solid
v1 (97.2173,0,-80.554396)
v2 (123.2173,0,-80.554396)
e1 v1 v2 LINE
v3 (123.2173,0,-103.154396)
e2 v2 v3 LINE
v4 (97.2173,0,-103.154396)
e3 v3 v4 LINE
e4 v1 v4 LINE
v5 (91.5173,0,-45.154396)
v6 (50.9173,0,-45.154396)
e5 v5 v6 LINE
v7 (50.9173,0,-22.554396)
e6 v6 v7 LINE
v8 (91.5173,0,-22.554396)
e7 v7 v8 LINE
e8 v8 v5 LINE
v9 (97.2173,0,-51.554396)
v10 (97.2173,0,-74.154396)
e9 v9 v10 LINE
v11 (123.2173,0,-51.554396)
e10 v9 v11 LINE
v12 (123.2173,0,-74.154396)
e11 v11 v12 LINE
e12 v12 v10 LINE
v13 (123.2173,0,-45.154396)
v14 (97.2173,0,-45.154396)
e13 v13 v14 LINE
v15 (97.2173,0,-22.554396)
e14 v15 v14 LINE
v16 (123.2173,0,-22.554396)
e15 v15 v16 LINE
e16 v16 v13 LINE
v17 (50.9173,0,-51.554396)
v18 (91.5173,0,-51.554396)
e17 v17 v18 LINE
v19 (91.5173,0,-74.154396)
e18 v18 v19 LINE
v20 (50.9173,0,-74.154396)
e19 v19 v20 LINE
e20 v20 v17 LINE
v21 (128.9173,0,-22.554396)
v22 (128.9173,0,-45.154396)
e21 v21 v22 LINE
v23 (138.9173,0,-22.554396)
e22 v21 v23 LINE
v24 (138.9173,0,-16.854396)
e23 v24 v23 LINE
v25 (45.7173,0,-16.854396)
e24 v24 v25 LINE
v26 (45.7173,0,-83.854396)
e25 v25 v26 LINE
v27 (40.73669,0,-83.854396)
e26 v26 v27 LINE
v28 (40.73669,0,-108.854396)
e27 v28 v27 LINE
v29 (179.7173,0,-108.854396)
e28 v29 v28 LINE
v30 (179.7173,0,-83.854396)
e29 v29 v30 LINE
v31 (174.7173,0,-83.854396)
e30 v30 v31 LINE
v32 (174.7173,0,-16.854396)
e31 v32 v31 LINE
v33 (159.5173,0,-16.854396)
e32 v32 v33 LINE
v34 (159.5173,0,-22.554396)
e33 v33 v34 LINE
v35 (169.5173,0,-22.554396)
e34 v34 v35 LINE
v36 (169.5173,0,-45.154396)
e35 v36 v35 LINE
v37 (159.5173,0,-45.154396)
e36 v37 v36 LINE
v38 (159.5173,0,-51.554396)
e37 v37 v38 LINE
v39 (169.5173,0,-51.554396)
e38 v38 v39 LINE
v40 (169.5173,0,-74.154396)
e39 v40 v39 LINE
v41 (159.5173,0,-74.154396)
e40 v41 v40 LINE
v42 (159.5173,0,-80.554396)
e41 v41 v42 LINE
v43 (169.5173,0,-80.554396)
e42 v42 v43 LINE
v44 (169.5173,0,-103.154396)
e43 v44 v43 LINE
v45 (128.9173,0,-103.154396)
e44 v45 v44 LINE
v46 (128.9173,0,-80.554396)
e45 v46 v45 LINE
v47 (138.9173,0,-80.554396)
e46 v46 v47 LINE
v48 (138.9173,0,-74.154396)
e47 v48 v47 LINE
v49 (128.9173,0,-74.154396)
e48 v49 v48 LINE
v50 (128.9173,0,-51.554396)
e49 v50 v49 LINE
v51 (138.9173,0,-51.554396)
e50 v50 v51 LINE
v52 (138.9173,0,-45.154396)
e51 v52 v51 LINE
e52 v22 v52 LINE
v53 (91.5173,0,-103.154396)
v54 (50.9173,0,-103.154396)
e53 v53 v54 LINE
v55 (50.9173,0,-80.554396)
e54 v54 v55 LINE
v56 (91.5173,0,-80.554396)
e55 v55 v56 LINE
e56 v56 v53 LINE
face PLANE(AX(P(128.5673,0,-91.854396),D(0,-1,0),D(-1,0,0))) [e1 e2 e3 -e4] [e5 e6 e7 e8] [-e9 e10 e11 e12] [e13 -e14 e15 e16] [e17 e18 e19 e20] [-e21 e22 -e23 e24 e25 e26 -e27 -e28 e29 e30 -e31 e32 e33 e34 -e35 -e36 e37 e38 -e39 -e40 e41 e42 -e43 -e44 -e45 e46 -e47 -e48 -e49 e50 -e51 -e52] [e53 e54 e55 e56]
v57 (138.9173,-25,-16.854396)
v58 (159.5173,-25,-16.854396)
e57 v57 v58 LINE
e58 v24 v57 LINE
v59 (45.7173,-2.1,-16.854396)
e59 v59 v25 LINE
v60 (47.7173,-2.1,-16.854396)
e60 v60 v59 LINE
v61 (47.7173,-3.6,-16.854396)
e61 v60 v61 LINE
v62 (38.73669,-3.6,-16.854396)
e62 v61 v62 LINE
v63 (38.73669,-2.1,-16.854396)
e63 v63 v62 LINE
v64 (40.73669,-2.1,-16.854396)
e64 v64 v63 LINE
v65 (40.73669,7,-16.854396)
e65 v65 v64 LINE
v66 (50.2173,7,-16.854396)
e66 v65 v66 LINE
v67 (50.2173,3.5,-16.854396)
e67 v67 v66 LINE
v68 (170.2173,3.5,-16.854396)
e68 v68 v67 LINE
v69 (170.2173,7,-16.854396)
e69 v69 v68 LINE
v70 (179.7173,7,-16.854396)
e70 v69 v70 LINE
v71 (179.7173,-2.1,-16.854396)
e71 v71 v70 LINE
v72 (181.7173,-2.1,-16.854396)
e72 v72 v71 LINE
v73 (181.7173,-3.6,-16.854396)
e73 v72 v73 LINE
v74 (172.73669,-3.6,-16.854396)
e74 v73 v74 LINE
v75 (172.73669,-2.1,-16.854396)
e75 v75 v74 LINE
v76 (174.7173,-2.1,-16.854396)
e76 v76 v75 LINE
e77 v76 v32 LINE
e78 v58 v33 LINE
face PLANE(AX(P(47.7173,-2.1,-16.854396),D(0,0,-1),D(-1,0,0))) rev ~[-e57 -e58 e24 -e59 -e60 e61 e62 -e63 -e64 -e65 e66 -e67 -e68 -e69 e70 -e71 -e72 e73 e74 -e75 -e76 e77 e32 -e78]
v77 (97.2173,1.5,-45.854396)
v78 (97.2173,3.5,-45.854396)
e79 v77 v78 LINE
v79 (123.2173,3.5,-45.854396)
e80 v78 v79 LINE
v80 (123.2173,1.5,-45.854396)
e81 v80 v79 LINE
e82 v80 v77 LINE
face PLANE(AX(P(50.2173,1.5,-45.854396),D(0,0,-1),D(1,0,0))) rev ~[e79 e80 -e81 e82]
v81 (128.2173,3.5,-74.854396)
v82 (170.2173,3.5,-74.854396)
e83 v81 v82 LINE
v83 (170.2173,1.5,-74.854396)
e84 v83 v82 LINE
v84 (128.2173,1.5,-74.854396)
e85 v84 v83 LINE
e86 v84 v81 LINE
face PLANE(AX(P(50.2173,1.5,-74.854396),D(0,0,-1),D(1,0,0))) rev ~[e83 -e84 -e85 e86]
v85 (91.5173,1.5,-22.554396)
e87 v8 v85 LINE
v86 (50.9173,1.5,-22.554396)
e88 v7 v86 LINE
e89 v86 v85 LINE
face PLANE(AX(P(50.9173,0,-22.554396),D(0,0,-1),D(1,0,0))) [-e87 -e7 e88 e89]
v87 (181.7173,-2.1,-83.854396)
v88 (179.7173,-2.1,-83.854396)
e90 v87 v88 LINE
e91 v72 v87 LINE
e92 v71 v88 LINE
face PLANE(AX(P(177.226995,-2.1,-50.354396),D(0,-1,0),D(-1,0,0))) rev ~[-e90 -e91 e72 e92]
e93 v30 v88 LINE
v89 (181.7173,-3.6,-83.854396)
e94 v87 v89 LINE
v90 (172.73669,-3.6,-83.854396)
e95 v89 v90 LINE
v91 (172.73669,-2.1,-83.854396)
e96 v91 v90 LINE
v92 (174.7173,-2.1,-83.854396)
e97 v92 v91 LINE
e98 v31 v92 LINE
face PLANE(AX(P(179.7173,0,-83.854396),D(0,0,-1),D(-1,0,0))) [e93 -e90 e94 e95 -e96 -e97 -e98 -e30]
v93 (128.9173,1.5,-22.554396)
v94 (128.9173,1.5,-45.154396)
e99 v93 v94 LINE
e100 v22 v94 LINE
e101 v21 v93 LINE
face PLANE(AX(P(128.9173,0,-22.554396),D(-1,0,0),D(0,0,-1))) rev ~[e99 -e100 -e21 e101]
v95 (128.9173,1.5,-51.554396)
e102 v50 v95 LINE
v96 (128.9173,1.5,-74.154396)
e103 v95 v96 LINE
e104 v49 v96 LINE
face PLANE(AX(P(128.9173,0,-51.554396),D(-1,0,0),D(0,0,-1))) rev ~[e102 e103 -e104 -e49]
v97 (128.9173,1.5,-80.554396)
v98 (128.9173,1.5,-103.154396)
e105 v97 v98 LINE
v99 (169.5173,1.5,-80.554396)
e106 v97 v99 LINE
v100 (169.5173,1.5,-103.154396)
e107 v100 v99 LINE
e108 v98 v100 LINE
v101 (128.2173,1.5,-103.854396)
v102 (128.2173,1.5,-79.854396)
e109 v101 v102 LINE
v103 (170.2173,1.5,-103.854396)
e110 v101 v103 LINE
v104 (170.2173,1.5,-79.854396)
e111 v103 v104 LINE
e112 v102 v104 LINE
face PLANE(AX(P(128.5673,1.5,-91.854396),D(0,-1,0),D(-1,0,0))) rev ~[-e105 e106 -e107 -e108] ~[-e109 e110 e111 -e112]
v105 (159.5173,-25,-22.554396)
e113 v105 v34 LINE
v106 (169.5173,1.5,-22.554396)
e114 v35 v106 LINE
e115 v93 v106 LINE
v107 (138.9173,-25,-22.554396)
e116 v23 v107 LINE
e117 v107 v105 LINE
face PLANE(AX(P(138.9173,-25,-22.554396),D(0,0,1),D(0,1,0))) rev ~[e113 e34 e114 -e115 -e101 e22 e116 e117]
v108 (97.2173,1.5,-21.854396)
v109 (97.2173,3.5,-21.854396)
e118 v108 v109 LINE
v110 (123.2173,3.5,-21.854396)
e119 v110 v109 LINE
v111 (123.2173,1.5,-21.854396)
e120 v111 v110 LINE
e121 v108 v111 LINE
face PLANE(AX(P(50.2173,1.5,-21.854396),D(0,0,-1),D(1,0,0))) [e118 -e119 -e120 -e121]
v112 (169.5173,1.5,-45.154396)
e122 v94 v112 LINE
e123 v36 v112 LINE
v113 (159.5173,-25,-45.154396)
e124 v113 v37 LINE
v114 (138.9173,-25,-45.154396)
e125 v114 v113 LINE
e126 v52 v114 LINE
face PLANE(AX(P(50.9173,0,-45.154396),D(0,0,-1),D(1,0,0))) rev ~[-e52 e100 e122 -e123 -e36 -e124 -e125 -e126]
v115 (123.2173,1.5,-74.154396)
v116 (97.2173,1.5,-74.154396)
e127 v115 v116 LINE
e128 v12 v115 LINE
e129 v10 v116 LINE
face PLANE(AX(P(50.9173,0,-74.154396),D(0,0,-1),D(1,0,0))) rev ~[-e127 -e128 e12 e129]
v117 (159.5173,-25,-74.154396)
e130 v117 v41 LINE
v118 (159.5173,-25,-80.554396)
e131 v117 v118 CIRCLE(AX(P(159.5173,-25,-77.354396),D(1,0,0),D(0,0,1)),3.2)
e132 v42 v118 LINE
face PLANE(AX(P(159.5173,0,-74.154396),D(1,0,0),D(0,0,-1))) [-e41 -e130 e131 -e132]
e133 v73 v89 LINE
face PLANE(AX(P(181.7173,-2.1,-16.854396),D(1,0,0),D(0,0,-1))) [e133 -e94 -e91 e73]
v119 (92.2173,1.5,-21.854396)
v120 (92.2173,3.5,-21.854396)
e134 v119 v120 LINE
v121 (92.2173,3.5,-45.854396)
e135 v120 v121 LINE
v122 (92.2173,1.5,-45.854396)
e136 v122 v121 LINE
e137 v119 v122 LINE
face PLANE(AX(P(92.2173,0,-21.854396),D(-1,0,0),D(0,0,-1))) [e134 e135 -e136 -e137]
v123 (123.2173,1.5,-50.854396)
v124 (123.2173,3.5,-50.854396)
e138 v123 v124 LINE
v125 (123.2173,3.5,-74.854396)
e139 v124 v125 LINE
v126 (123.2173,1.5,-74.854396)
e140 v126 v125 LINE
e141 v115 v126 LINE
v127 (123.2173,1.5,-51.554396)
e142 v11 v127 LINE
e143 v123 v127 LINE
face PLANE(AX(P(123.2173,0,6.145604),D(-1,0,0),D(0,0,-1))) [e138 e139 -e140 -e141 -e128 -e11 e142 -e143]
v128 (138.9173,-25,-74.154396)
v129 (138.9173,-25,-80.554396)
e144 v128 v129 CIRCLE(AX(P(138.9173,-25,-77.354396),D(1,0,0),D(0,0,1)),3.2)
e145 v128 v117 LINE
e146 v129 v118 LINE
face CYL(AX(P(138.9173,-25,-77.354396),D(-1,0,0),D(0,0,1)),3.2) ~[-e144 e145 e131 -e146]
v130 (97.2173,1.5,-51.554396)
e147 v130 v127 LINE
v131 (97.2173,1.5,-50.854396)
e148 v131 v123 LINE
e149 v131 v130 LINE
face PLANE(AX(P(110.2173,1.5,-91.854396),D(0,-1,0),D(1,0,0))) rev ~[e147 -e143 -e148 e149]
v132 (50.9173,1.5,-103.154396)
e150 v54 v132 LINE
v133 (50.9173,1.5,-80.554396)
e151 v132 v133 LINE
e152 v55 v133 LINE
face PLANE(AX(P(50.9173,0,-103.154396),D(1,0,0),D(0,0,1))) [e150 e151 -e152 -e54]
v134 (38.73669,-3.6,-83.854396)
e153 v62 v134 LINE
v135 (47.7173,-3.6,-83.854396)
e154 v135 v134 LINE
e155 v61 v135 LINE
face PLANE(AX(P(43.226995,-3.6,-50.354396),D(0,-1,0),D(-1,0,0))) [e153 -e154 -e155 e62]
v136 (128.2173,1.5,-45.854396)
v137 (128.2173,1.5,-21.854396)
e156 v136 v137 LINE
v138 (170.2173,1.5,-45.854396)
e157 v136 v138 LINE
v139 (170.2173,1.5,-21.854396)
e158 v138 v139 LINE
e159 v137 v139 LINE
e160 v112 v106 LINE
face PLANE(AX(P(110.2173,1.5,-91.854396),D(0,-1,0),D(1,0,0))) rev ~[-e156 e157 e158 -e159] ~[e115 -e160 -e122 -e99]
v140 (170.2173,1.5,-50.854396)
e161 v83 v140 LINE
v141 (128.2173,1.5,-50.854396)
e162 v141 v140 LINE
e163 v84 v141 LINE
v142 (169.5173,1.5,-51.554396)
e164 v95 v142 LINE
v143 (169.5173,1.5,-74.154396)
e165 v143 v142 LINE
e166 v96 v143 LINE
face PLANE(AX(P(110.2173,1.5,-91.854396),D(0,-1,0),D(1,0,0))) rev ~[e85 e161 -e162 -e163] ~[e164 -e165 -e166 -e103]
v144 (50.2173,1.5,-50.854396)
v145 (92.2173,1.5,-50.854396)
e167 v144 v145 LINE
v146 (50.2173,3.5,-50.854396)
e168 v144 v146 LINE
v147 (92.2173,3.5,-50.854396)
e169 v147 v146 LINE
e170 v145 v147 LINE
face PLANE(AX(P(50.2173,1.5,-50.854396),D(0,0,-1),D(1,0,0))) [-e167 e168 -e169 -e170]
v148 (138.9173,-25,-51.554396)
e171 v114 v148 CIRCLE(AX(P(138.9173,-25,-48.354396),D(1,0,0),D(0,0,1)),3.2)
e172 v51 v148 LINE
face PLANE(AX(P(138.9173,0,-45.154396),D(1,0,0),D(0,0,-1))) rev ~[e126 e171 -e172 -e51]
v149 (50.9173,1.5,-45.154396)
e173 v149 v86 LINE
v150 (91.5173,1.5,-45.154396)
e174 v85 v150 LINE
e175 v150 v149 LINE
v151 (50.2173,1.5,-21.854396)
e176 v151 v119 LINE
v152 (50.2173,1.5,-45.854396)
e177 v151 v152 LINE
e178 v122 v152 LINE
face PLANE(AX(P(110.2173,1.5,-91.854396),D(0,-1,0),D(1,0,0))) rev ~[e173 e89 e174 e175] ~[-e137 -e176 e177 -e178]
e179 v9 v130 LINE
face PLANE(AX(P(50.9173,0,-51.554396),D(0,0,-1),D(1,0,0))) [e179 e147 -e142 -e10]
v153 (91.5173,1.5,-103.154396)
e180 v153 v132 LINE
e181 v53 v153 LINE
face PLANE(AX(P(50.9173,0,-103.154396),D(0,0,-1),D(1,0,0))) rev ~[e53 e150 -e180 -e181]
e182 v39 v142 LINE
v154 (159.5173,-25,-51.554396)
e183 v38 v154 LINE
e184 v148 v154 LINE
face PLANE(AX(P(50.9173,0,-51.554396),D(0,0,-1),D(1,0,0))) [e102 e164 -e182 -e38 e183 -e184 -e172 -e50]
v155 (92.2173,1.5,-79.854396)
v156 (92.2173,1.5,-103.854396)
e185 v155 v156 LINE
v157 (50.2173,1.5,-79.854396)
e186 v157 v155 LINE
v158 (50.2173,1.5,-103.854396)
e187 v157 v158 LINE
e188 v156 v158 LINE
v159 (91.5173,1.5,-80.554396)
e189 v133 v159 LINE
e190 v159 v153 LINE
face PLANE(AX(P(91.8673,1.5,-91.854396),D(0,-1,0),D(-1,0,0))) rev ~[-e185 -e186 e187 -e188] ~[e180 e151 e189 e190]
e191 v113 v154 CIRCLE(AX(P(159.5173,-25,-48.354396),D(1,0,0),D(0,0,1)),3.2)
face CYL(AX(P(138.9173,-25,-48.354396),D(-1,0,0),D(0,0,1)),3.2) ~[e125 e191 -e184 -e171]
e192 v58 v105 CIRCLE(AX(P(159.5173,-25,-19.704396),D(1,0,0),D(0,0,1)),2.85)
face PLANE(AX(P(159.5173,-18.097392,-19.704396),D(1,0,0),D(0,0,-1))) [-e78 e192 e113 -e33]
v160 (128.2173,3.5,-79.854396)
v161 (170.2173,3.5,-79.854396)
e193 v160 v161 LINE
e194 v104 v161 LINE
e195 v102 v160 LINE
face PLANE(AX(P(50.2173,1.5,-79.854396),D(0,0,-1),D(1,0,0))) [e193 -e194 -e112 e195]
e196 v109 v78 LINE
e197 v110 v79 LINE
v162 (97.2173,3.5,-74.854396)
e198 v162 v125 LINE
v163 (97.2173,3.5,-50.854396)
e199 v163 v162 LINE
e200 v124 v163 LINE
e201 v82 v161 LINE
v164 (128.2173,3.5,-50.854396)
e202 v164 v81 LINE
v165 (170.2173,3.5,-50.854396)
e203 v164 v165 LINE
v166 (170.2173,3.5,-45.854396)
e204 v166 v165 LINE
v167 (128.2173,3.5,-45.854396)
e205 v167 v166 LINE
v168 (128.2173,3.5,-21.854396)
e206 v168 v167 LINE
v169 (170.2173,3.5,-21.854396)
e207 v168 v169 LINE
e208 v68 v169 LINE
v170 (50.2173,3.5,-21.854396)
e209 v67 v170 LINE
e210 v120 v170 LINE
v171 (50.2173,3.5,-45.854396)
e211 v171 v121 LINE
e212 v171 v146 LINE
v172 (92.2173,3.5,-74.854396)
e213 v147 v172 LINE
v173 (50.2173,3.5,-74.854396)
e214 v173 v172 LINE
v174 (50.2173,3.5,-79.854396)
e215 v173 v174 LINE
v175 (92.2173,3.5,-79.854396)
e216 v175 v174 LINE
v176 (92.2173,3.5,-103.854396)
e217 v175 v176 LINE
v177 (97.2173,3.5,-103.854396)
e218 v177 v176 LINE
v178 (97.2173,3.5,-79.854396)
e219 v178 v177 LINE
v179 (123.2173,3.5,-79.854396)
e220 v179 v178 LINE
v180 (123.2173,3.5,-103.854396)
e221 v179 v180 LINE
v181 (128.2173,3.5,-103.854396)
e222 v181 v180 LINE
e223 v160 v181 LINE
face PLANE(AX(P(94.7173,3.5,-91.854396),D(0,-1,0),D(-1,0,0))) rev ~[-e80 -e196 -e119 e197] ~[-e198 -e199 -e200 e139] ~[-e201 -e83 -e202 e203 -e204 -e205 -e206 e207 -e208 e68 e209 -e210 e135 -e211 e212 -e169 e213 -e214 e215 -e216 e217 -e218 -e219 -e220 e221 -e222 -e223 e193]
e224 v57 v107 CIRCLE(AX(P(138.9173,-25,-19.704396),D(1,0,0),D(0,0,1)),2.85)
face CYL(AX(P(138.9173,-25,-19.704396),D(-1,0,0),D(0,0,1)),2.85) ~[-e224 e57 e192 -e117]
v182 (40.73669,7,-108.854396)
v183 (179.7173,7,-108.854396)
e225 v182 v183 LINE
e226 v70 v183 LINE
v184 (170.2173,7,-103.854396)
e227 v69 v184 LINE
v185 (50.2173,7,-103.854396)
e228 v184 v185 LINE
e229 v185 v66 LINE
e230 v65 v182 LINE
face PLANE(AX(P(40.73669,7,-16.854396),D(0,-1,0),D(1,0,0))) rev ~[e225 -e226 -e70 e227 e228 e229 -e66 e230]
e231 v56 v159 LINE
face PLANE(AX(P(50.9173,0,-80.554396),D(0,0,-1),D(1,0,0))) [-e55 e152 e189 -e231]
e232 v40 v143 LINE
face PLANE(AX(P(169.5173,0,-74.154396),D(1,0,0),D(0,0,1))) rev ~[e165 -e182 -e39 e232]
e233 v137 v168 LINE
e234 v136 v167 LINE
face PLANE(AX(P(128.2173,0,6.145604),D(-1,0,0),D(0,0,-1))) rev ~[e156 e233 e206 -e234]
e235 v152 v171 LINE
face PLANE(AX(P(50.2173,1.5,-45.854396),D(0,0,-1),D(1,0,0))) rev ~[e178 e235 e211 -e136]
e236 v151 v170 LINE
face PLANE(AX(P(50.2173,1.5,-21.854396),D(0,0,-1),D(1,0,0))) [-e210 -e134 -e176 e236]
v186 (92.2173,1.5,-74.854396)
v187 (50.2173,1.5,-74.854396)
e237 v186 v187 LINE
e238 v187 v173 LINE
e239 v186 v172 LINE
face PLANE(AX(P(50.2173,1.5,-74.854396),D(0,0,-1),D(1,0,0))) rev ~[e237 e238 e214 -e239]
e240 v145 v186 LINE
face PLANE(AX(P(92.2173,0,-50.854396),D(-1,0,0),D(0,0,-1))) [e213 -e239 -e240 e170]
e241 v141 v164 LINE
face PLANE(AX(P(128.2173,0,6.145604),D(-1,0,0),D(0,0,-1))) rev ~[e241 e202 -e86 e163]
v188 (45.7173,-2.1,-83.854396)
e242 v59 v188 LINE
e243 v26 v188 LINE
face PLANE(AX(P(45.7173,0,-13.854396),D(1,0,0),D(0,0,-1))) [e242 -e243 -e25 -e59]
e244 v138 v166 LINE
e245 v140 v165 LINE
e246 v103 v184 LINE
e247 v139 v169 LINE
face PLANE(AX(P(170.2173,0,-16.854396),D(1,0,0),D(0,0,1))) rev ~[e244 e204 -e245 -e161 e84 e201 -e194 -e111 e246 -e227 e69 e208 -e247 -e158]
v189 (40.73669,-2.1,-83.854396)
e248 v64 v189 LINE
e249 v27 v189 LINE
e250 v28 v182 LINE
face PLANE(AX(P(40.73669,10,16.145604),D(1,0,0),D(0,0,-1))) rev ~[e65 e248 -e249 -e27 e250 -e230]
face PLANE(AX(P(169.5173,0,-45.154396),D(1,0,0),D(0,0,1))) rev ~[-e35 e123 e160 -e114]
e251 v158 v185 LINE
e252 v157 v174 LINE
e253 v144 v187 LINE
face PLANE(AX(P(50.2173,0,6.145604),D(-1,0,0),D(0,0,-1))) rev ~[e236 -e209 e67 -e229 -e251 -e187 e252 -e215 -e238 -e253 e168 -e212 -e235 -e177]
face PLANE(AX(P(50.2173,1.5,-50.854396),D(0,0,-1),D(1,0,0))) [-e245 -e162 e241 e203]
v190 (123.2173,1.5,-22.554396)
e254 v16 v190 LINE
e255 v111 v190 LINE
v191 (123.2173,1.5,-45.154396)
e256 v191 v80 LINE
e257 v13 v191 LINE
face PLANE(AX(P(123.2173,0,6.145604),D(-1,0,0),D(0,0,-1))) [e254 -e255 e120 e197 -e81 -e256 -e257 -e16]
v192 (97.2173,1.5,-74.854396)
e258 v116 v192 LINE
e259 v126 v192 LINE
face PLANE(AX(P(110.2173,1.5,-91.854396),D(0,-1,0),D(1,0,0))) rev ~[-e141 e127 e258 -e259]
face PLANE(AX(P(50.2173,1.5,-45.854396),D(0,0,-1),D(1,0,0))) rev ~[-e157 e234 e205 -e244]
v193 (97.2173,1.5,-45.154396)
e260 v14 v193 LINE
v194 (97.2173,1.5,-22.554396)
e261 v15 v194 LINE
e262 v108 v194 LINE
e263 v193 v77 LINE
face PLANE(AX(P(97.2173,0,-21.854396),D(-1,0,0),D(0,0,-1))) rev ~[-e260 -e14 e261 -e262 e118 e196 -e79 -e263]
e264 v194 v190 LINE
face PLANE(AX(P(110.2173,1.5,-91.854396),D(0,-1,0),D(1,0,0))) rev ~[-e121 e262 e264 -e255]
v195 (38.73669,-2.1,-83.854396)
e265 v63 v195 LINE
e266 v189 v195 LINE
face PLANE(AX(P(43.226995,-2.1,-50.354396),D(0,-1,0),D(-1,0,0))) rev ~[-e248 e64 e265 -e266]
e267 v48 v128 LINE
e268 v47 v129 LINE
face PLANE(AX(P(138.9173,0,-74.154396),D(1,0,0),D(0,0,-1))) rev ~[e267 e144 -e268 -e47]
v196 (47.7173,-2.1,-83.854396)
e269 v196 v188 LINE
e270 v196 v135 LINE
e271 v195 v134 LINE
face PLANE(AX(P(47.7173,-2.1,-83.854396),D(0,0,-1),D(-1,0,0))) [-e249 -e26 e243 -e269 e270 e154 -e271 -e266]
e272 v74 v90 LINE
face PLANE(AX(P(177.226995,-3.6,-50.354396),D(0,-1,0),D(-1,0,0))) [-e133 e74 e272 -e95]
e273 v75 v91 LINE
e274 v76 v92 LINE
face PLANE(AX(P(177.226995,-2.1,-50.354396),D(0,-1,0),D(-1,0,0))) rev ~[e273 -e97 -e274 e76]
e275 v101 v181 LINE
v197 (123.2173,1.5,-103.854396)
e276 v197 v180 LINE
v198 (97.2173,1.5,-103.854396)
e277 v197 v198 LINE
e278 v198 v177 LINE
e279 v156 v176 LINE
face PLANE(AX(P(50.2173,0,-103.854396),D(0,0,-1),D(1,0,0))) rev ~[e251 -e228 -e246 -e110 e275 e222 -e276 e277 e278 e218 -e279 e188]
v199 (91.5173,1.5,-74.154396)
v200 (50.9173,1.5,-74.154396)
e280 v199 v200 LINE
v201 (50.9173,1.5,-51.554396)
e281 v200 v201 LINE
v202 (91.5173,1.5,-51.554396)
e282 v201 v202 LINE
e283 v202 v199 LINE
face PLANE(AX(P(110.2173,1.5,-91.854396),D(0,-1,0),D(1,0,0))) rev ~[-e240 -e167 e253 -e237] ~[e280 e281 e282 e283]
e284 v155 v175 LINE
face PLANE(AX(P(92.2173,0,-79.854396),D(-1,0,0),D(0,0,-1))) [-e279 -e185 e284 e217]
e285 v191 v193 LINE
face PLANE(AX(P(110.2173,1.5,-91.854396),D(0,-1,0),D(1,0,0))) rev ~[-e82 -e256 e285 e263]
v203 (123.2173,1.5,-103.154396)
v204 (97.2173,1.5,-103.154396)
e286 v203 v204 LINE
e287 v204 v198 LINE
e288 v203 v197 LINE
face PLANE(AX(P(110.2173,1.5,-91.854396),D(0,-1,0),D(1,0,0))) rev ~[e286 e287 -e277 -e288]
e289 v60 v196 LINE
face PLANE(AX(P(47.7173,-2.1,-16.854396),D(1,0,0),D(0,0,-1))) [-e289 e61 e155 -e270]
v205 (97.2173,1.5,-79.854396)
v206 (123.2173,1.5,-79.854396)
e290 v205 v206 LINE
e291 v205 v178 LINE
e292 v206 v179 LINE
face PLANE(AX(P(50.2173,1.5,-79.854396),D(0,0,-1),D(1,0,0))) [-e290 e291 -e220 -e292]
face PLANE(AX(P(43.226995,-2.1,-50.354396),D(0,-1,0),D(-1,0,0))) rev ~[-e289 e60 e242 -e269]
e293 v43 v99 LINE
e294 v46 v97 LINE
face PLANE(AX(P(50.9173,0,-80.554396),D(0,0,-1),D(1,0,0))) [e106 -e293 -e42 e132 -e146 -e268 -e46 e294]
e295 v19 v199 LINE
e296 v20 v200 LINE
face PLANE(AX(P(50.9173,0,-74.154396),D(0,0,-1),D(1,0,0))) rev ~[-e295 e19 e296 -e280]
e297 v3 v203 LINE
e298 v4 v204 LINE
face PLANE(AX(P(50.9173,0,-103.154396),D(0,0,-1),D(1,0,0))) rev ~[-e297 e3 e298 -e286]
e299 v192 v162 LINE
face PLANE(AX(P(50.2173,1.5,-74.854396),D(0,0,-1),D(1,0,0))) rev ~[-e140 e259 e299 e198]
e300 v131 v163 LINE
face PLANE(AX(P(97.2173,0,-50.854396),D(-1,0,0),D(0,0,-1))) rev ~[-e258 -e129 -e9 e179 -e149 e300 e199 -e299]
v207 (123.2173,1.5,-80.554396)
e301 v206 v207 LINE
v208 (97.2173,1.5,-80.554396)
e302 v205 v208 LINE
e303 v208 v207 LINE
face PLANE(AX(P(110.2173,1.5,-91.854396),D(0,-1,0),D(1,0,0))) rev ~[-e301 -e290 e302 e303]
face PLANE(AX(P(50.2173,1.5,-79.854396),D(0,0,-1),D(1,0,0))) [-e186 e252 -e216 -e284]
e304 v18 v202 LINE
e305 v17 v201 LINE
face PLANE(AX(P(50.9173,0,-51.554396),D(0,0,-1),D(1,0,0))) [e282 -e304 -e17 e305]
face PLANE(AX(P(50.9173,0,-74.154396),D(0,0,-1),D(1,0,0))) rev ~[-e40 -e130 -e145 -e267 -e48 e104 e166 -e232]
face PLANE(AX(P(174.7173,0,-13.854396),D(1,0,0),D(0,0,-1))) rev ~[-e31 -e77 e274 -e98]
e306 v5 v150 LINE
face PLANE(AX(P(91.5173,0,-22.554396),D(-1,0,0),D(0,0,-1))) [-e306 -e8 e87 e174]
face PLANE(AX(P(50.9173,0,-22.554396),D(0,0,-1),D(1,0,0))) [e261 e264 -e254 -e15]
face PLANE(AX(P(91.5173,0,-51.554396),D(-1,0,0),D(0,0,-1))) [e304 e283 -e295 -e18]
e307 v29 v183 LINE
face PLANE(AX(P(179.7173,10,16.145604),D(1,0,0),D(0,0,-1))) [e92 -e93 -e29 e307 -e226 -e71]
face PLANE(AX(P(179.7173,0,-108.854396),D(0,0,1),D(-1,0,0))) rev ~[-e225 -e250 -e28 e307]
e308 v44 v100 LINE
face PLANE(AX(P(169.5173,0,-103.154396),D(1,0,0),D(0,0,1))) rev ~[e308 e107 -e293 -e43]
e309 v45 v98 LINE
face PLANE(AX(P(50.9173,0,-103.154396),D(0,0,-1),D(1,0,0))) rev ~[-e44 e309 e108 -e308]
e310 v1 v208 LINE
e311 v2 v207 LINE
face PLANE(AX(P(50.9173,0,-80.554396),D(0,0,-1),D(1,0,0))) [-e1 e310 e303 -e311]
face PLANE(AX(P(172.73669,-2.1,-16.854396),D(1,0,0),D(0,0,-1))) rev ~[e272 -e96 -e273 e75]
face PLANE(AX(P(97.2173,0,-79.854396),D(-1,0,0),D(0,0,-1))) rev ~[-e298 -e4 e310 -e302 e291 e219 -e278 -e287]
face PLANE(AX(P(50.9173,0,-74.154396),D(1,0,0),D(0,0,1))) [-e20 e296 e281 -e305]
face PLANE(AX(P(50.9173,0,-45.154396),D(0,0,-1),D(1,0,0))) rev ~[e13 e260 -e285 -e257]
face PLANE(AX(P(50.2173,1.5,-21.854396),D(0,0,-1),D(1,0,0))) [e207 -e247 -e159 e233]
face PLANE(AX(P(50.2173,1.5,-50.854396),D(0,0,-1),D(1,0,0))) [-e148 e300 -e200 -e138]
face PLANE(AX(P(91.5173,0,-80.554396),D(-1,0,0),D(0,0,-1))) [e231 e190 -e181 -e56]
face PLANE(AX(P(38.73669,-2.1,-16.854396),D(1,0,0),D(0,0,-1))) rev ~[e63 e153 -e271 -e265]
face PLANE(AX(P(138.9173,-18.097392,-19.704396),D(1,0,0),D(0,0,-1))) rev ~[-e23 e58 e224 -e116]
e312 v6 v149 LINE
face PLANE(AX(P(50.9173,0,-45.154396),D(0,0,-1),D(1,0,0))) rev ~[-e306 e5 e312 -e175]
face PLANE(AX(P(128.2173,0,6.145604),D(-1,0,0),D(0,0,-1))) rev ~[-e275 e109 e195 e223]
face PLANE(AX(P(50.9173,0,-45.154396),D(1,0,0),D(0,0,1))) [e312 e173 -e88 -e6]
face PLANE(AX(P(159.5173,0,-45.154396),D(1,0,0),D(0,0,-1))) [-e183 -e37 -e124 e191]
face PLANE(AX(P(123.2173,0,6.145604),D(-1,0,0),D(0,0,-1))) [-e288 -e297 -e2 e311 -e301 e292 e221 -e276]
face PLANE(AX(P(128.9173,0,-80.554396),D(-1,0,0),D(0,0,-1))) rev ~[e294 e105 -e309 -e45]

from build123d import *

# Parameters (mm, degrees)
SKETCH1_W            = 148
SKETCH1_H            = 130
SKETCH1_W_2          = 120
SKETCH1_H_2          = 110
BOSS_EXTRUDE2_DEPTH  = 10
SKETCH2_W            = 120
SKETCH2_H            = 24
SKETCH2_W_2          = 118.6
SKETCH2_H_2          = 22.6
SKETCH2_H_3          = 23
SKETCH2_H_4          = 21.6
SKETCH2_H_5          = 5
BOSS_EXTRUDE3_DEPTH  = 1.5
SKETCH3_W            = 120
SKETCH3_H            = 5
BOSS_EXTRUDE4_DEPTH  = 2
SKETCH4_W            = 5
SKETCH4_H            = 110
BOSS_EXTRUDE5_DEPTH  = 3.5
SKETCH5_W            = 5
SKETCH5_H            = 22.6
SKETCH5_H_2          = 21.6
CUT_EXTRUDE1_DEPTH   = 10
SKETCH6_W            = 5
SKETCH6_H            = 0.7
CUT_EXTRUDE2_DEPTH   = 2
SKETCH7_W            = 5
SKETCH7_H            = 24
BOSS_EXTRUDE7_DEPTH  = 3.5
SKETCH8_W            = 0.7
SKETCH8_H            = 22.6
BOSS_EXTRUDE8_DEPTH  = 1.5
SKETCH9_W            = 26
SKETCH9_H            = 0.7
CUT_EXTRUDE3_DEPTH   = 1.5
SKETCH10_W           = 0.7
SKETCH10_H           = 22.6
BOSS_EXTRUDE9_DEPTH  = 1.5
SKETCH11_W           = 5
SKETCH11_H           = 70
BOSS_EXTRUDE10_DEPTH = 3
SKETCH12_W           = 4.519389616
SKETCH12_H           = 130
SKETCH12_W_2         = 4.5
CUT_EXTRUDE4_DEPTH   = 20
SKETCH13_W           = 138.980610384
SKETCH13_H           = 30
SKETCH13_H_2         = 5
CUT_EXTRUDE5_DEPTH   = 20
SKETCH14_W           = 138.980610384
SKETCH14_H           = 3
CUT_EXTRUDE6_DEPTH   = 20
SKETCH15_W           = 4.980610384
SKETCH15_H           = 3
SKETCH15_W_2         = 5
CUT_EXTRUDE7_DEPTH   = 20
SKETCH16_W           = 138.980610384
SKETCH16_H           = 3
CUT_EXTRUDE8_DEPTH   = 200
SKETCH17_W           = 20.6
SKETCH17_H           = 6.4
SKETCH17_H_2         = 5.7
BOSS_EXTRUDE11_DEPTH = 10
BOSS_EXTRUDE12_DEPTH = 20.6
BOSS_EXTRUDE13_DEPTH = 20.6
SKETCH20_W           = 5
SKETCH20_H           = 67
SKETCH20_W_2         = 4.980610384
CUT_EXTRUDE9_DEPTH   = 0.9
SKETCH21_W           = 8.980610384
SKETCH21_H           = 67
BOSS_EXTRUDE14_DEPTH = 1.5


with BuildPart() as part:
    # Sketch1 → Boss-Extrude2 (new body)
    with BuildSketch(Plane(origin=(0, 0, 0), x_dir=(1, 0, 0), z_dir=(0, 1, 0))):
        with Locations((110.217300352, 48.854396258)):
            Rectangle(SKETCH1_W, SKETCH1_H)
        with Locations((110.217300352, 48.854396258)):
            Rectangle(SKETCH1_W_2, SKETCH1_H_2, mode=Mode.SUBTRACT)
    extrude(amount=BOSS_EXTRUDE2_DEPTH)

    # Sketch2 → Boss-Extrude3 (add)
    with BuildSketch(Plane.XZ):
        with Locations((110.217300352, -91.854396258)):
            Rectangle(SKETCH2_W, SKETCH2_H)
        with Locations((110.217300352, -91.854396258)):
            Rectangle(SKETCH2_W_2, SKETCH2_H_2, mode=Mode.SUBTRACT)
        with Locations((110.217300352, -62.854396258)):
            Rectangle(SKETCH2_W, SKETCH2_H)
        with Locations((110.217300352, -62.854396258)):
            Rectangle(SKETCH2_W_2, SKETCH2_H_2, mode=Mode.SUBTRACT)
        with Locations((110.217300352, -33.854396258)):
            Rectangle(SKETCH2_W, SKETCH2_H)
        with Locations((110.217300352, -33.854396258)):
            Rectangle(SKETCH2_W_2, SKETCH2_H_2, mode=Mode.SUBTRACT)
        with Locations((110.217300352, -5.354396258)):
            Rectangle(SKETCH2_W, SKETCH2_H_3)
        with Locations((110.217300352, -5.354396258)):
            Rectangle(SKETCH2_W_2, SKETCH2_H_4, mode=Mode.SUBTRACT)
        with Locations((110.217300352, -19.354396258)):
            Rectangle(SKETCH2_W, SKETCH2_H_5)
        with Locations((110.217300352, -48.354396258)):
            Rectangle(SKETCH2_W, SKETCH2_H_5)
        with Locations((110.217300352, -77.354396258)):
            Rectangle(SKETCH2_W, SKETCH2_H_5)
    extrude(amount=-BOSS_EXTRUDE3_DEPTH)

    # Sketch3 → Boss-Extrude4 (add)
    with BuildSketch(Plane(origin=(0, 1.5, 0), x_dir=(1, 0, 0), z_dir=(0, 1, 0))):
        with Locations((110.217300352, 77.354396258)):
            Rectangle(SKETCH3_W, SKETCH3_H)
        with Locations((110.217300352, 48.354396258)):
            Rectangle(SKETCH3_W, SKETCH3_H)
        with Locations((110.217300352, 19.354396258)):
            Rectangle(SKETCH3_W, SKETCH3_H)
    extrude(amount=BOSS_EXTRUDE4_DEPTH)

    # Sketch4 → Boss-Extrude5 (add)
    with BuildSketch(Plane(origin=(0, 0, 0), x_dir=(-1, 0, 0), z_dir=(0, -1, 0))):
        with Locations((-89.717300352, 48.854396258)):
            Rectangle(SKETCH4_W, SKETCH4_H)
        with Locations((-125.717300352, 48.854396258)):
            Rectangle(SKETCH4_W, SKETCH4_H)
    extrude(amount=-BOSS_EXTRUDE5_DEPTH)

    # Sketch5 → Cut-Extrude1 (cut)
    with BuildSketch(Plane(origin=(0, 0, 0), x_dir=(-1, 0, 0), z_dir=(0, -1, 0))):
        with Locations((-89.717300352, 91.854396258)):
            Rectangle(SKETCH5_W, SKETCH5_H)
        with Locations((-89.717300352, 5.354396258)):
            Rectangle(SKETCH5_W, SKETCH5_H_2)
        with Locations((-89.717300352, 33.854396258)):
            Rectangle(SKETCH5_W, SKETCH5_H)
        with Locations((-89.717300352, 62.854396258)):
            Rectangle(SKETCH5_W, SKETCH5_H)
    extrude(amount=-CUT_EXTRUDE1_DEPTH, mode=Mode.SUBTRACT)

    # Sketch6 → Cut-Extrude2 (cut)
    with BuildSketch(Plane(origin=(0, 1.5, 0), x_dir=(1, 0, 0), z_dir=(0, 1, 0))):
        with Locations((89.717300352, 103.504396258)):
            Rectangle(SKETCH6_W, SKETCH6_H)
        with Locations((89.717300352, 80.204396258)):
            Rectangle(SKETCH6_W, SKETCH6_H)
        with Locations((89.717300352, 74.504396258)):
            Rectangle(SKETCH6_W, SKETCH6_H)
        with Locations((89.717300352, 51.204396258)):
            Rectangle(SKETCH6_W, SKETCH6_H)
        with Locations((89.717300352, 45.504396258)):
            Rectangle(SKETCH6_W, SKETCH6_H)
        with Locations((89.717300352, 22.204396258)):
            Rectangle(SKETCH6_W, SKETCH6_H)
        with Locations((89.717300352, 16.504396258)):
            Rectangle(SKETCH6_W, SKETCH6_H)
        with Locations((89.717300352, -5.795603742)):
            Rectangle(SKETCH6_W, SKETCH6_H)
    extrude(amount=CUT_EXTRUDE2_DEPTH, mode=Mode.SUBTRACT)

    # Sketch7 → Boss-Extrude7 (add)
    with BuildSketch(Plane(origin=(0, 0, 0), x_dir=(-1, 0, 0), z_dir=(0, -1, 0))):
        with Locations((-94.717300352, 91.854396258)):
            Rectangle(SKETCH7_W, SKETCH7_H)
        with Locations((-94.717300352, 62.854396258)):
            Rectangle(SKETCH7_W, SKETCH7_H)
        Polygon((-97.217300352, 16.854396258), (-97.217300352, -6.145603742), (-92.217300352, -6.170565448), (-92.217300352, 16.854396258), align=None)
        with Locations((-94.717300352, 33.854396258)):
            Rectangle(SKETCH7_W, SKETCH7_H)
    extrude(amount=-BOSS_EXTRUDE7_DEPTH)

    # Sketch8 → Boss-Extrude8 (add)
    with BuildSketch(Plane(origin=(0, 0, 0), x_dir=(-1, 0, 0), z_dir=(0, -1, 0))):
        with Locations((-91.867300352, 91.854396258)):
            Rectangle(SKETCH8_W, SKETCH8_H)
        with Locations((-91.867300352, 62.854396258)):
            Rectangle(SKETCH8_W, SKETCH8_H)
        with Locations((-91.867300352, 33.854396258)):
            Rectangle(SKETCH8_W, SKETCH8_H)
    extrude(amount=-BOSS_EXTRUDE8_DEPTH)

    # Sketch9 → Cut-Extrude3 (cut)
    with BuildSketch(Plane(origin=(0, 0, 0), x_dir=(-1, 0, 0), z_dir=(0, -1, 0))):
        Polygon((-50.217300352, 16.854396258), (-92.217300352, 16.854396258), (-92.217300352, 16.154396258), (-50.917300352, 16.154396258), (-50.917300352, -5.445603742), (-92.217300352, -5.445603742), (-92.217300352, -6.145603742), (-50.217300352, -6.145603742), align=None)
        Polygon((-170.217300352, -6.145603742), (-128.217300352, -6.145603742), (-128.217300352, -5.445603742), (-169.517300352, -5.445603742), (-169.517300352, 16.154396258), (-128.217300352, 16.154396258), (-128.217300352, 16.854396258), (-170.217300352, 16.854396258), align=None)
        with Locations((-110.217300352, 16.504396258)):
            Rectangle(SKETCH9_W, SKETCH9_H)
        with Locations((-110.217300352, -5.795603742)):
            Rectangle(SKETCH9_W, SKETCH9_H)
    extrude(amount=-CUT_EXTRUDE3_DEPTH, mode=Mode.SUBTRACT)

    # Sketch10 → Boss-Extrude9 (add)
    with BuildSketch(Plane(origin=(0, 0, 0), x_dir=(-1, 0, 0), z_dir=(0, -1, 0))):
        with Locations((-128.567300352, 91.854396258)):
            Rectangle(SKETCH10_W, SKETCH10_H)
        with Locations((-128.567300352, 62.854396258)):
            Rectangle(SKETCH10_W, SKETCH10_H)
        with Locations((-128.567300352, 33.854396258)):
            Rectangle(SKETCH10_W, SKETCH10_H)
    extrude(amount=-BOSS_EXTRUDE9_DEPTH)

    # Sketch11 → Boss-Extrude10 (add)
    with BuildSketch(Plane(origin=(0, 0, 0), x_dir=(-1, 0, 0), z_dir=(0, -1, 0))):
        with Locations((-43.217300352, 48.854396258)):
            Rectangle(SKETCH11_W, SKETCH11_H)
        with Locations((-177.217300352, 48.854396258)):
            Rectangle(SKETCH11_W, SKETCH11_H)
    extrude(amount=BOSS_EXTRUDE10_DEPTH)

    # Sketch12 → Cut-Extrude4 (cut)
    with BuildSketch(Plane(origin=(0, 10, 0), x_dir=(1, 0, 0), z_dir=(0, 1, 0))):
        with Locations((38.47699516, 48.854396258)):
            Rectangle(SKETCH12_W, SKETCH12_H)
        with Locations((181.967300352, 48.854396258)):
            Rectangle(SKETCH12_W_2, SKETCH12_H)
    extrude(amount=-CUT_EXTRUDE4_DEPTH, mode=Mode.SUBTRACT)

    # Sketch13 → Cut-Extrude5 (cut)
    with BuildSketch(Plane(origin=(0, 0, 0), x_dir=(-1, 0, 0), z_dir=(0, -1, 0))):
        with Locations((-110.22699516, -1.145603742)):
            Rectangle(SKETCH13_W, SKETCH13_H)
        with Locations((-110.22699516, 111.354396258)):
            Rectangle(SKETCH13_W, SKETCH13_H_2)
    extrude(amount=-CUT_EXTRUDE5_DEPTH, mode=Mode.SUBTRACT)

    # Sketch14 → Cut-Extrude6 (cut)
    with BuildSketch(Plane(origin=(0, 0, 0), x_dir=(-1, 0, 0), z_dir=(0, -1, 0))):
        with Locations((-110.22699516, 15.354396258)):
            Rectangle(SKETCH14_W, SKETCH14_H)
    extrude(amount=-CUT_EXTRUDE6_DEPTH, mode=Mode.SUBTRACT)

    # Sketch15 → Cut-Extrude7 (cut)
    with BuildSketch(Plane(origin=(0, -3, 0), x_dir=(-1, 0, 0), z_dir=(0, -1, 0))):
        with Locations((-43.22699516, 15.354396258)):
            Rectangle(SKETCH15_W, SKETCH15_H)
        with Locations((-177.217300352, 15.354396258)):
            Rectangle(SKETCH15_W_2, SKETCH15_H)
    extrude(amount=-CUT_EXTRUDE7_DEPTH, mode=Mode.SUBTRACT)

    # Sketch16 → Cut-Extrude8 (cut)
    with BuildSketch(Plane.XY.offset(-16.854396258)):
        with Locations((110.22699516, 8.5)):
            Rectangle(SKETCH16_W, SKETCH16_H)
    extrude(amount=-CUT_EXTRUDE8_DEPTH, mode=Mode.SUBTRACT)

    # Sketch17 → Boss-Extrude11 (add)
    with BuildSketch(Plane(origin=(0, 0, 0), x_dir=(-1, 0, 0), z_dir=(0, -1, 0))):
        with Locations((-149.217300352, 77.354396258)):
            Rectangle(SKETCH17_W, SKETCH17_H)
        with Locations((-149.217300352, 48.354396258)):
            Rectangle(SKETCH17_W, SKETCH17_H)
        with Locations((-149.217300352, 19.704396258)):
            Rectangle(SKETCH17_W, SKETCH17_H_2)
    extrude(amount=BOSS_EXTRUDE11_DEPTH)

    # Sketch18 → Boss-Extrude12 (add)
    with BuildSketch(Plane.ZY.offset(-138.917300352)):
        with BuildLine():
            Line((-22.554396258, -10), (-16.854396258, -10))
            ThreePointArc((-16.854396258, -10), (-19.704396258, -12.85), (-22.554396258, -10))
        make_face()
        with BuildLine():
            Line((-45.154396258, -10), (-51.554396258, -10))
            ThreePointArc((-51.554396258, -10), (-48.354396258, -13.2), (-45.154396258, -10))
        make_face()
        with BuildLine():
            Line((-74.154396258, -10), (-80.554396258, -10))
            ThreePointArc((-80.554396258, -10), (-77.354396258, -13.2), (-74.154396258, -10))
        make_face()
    extrude(amount=-BOSS_EXTRUDE12_DEPTH)

    # Sketch19 → Boss-Extrude13 (add)
    with BuildSketch(Plane.ZY.offset(-138.917300352)):
        with BuildLine():
            Line((-16.854396258, -10), (-16.854396258, -25))
            ThreePointArc((-16.854396258, -25), (-19.704396258, -27.85), (-22.554396258, -25))
            Line((-22.554396258, -25), (-22.554396258, -10))
            ThreePointArc((-22.554396258, -10), (-19.704396258, -12.85), (-16.854396258, -10))
        make_face()
        with BuildLine():
            Line((-45.154396258, -10), (-45.154396258, -25))
            ThreePointArc((-45.154396258, -25), (-48.354396258, -28.2), (-51.554396258, -25))
            Line((-51.554396258, -25), (-51.554396258, -10))
            Line((-51.554396258, -10), (-45.154396258, -10))
        make_face()
        with BuildLine():
            Line((-74.154396258, -10), (-74.154396258, -25))
            ThreePointArc((-74.154396258, -25), (-77.354396258, -28.2), (-80.554396258, -25))
            Line((-80.554396258, -25), (-80.554396258, -10))
            Line((-80.554396258, -10), (-74.154396258, -10))
        make_face()
    extrude(amount=-BOSS_EXTRUDE13_DEPTH)

    # Sketch20 → Cut-Extrude9 (cut)
    with BuildSketch(Plane(origin=(0, -3, 0), x_dir=(-1, 0, 0), z_dir=(0, -1, 0))):
        with Locations((-177.217300352, 50.354396258)):
            Rectangle(SKETCH20_W, SKETCH20_H)
        with Locations((-43.22699516, 50.354396258)):
            Rectangle(SKETCH20_W_2, SKETCH20_H)
    extrude(amount=-CUT_EXTRUDE9_DEPTH, mode=Mode.SUBTRACT)

    # Sketch21 → Boss-Extrude14 (add)
    with BuildSketch(Plane(origin=(0, -2.1, 0), x_dir=(-1, 0, 0), z_dir=(0, -1, 0))):
        with Locations((-43.22699516, 50.354396258)):
            Rectangle(SKETCH21_W, SKETCH21_H)
        with Locations((-177.22699516, 50.354396258)):
            Rectangle(SKETCH21_W, SKETCH21_H)
    extrude(amount=BOSS_EXTRUDE14_DEPTH)


solid = part.part
